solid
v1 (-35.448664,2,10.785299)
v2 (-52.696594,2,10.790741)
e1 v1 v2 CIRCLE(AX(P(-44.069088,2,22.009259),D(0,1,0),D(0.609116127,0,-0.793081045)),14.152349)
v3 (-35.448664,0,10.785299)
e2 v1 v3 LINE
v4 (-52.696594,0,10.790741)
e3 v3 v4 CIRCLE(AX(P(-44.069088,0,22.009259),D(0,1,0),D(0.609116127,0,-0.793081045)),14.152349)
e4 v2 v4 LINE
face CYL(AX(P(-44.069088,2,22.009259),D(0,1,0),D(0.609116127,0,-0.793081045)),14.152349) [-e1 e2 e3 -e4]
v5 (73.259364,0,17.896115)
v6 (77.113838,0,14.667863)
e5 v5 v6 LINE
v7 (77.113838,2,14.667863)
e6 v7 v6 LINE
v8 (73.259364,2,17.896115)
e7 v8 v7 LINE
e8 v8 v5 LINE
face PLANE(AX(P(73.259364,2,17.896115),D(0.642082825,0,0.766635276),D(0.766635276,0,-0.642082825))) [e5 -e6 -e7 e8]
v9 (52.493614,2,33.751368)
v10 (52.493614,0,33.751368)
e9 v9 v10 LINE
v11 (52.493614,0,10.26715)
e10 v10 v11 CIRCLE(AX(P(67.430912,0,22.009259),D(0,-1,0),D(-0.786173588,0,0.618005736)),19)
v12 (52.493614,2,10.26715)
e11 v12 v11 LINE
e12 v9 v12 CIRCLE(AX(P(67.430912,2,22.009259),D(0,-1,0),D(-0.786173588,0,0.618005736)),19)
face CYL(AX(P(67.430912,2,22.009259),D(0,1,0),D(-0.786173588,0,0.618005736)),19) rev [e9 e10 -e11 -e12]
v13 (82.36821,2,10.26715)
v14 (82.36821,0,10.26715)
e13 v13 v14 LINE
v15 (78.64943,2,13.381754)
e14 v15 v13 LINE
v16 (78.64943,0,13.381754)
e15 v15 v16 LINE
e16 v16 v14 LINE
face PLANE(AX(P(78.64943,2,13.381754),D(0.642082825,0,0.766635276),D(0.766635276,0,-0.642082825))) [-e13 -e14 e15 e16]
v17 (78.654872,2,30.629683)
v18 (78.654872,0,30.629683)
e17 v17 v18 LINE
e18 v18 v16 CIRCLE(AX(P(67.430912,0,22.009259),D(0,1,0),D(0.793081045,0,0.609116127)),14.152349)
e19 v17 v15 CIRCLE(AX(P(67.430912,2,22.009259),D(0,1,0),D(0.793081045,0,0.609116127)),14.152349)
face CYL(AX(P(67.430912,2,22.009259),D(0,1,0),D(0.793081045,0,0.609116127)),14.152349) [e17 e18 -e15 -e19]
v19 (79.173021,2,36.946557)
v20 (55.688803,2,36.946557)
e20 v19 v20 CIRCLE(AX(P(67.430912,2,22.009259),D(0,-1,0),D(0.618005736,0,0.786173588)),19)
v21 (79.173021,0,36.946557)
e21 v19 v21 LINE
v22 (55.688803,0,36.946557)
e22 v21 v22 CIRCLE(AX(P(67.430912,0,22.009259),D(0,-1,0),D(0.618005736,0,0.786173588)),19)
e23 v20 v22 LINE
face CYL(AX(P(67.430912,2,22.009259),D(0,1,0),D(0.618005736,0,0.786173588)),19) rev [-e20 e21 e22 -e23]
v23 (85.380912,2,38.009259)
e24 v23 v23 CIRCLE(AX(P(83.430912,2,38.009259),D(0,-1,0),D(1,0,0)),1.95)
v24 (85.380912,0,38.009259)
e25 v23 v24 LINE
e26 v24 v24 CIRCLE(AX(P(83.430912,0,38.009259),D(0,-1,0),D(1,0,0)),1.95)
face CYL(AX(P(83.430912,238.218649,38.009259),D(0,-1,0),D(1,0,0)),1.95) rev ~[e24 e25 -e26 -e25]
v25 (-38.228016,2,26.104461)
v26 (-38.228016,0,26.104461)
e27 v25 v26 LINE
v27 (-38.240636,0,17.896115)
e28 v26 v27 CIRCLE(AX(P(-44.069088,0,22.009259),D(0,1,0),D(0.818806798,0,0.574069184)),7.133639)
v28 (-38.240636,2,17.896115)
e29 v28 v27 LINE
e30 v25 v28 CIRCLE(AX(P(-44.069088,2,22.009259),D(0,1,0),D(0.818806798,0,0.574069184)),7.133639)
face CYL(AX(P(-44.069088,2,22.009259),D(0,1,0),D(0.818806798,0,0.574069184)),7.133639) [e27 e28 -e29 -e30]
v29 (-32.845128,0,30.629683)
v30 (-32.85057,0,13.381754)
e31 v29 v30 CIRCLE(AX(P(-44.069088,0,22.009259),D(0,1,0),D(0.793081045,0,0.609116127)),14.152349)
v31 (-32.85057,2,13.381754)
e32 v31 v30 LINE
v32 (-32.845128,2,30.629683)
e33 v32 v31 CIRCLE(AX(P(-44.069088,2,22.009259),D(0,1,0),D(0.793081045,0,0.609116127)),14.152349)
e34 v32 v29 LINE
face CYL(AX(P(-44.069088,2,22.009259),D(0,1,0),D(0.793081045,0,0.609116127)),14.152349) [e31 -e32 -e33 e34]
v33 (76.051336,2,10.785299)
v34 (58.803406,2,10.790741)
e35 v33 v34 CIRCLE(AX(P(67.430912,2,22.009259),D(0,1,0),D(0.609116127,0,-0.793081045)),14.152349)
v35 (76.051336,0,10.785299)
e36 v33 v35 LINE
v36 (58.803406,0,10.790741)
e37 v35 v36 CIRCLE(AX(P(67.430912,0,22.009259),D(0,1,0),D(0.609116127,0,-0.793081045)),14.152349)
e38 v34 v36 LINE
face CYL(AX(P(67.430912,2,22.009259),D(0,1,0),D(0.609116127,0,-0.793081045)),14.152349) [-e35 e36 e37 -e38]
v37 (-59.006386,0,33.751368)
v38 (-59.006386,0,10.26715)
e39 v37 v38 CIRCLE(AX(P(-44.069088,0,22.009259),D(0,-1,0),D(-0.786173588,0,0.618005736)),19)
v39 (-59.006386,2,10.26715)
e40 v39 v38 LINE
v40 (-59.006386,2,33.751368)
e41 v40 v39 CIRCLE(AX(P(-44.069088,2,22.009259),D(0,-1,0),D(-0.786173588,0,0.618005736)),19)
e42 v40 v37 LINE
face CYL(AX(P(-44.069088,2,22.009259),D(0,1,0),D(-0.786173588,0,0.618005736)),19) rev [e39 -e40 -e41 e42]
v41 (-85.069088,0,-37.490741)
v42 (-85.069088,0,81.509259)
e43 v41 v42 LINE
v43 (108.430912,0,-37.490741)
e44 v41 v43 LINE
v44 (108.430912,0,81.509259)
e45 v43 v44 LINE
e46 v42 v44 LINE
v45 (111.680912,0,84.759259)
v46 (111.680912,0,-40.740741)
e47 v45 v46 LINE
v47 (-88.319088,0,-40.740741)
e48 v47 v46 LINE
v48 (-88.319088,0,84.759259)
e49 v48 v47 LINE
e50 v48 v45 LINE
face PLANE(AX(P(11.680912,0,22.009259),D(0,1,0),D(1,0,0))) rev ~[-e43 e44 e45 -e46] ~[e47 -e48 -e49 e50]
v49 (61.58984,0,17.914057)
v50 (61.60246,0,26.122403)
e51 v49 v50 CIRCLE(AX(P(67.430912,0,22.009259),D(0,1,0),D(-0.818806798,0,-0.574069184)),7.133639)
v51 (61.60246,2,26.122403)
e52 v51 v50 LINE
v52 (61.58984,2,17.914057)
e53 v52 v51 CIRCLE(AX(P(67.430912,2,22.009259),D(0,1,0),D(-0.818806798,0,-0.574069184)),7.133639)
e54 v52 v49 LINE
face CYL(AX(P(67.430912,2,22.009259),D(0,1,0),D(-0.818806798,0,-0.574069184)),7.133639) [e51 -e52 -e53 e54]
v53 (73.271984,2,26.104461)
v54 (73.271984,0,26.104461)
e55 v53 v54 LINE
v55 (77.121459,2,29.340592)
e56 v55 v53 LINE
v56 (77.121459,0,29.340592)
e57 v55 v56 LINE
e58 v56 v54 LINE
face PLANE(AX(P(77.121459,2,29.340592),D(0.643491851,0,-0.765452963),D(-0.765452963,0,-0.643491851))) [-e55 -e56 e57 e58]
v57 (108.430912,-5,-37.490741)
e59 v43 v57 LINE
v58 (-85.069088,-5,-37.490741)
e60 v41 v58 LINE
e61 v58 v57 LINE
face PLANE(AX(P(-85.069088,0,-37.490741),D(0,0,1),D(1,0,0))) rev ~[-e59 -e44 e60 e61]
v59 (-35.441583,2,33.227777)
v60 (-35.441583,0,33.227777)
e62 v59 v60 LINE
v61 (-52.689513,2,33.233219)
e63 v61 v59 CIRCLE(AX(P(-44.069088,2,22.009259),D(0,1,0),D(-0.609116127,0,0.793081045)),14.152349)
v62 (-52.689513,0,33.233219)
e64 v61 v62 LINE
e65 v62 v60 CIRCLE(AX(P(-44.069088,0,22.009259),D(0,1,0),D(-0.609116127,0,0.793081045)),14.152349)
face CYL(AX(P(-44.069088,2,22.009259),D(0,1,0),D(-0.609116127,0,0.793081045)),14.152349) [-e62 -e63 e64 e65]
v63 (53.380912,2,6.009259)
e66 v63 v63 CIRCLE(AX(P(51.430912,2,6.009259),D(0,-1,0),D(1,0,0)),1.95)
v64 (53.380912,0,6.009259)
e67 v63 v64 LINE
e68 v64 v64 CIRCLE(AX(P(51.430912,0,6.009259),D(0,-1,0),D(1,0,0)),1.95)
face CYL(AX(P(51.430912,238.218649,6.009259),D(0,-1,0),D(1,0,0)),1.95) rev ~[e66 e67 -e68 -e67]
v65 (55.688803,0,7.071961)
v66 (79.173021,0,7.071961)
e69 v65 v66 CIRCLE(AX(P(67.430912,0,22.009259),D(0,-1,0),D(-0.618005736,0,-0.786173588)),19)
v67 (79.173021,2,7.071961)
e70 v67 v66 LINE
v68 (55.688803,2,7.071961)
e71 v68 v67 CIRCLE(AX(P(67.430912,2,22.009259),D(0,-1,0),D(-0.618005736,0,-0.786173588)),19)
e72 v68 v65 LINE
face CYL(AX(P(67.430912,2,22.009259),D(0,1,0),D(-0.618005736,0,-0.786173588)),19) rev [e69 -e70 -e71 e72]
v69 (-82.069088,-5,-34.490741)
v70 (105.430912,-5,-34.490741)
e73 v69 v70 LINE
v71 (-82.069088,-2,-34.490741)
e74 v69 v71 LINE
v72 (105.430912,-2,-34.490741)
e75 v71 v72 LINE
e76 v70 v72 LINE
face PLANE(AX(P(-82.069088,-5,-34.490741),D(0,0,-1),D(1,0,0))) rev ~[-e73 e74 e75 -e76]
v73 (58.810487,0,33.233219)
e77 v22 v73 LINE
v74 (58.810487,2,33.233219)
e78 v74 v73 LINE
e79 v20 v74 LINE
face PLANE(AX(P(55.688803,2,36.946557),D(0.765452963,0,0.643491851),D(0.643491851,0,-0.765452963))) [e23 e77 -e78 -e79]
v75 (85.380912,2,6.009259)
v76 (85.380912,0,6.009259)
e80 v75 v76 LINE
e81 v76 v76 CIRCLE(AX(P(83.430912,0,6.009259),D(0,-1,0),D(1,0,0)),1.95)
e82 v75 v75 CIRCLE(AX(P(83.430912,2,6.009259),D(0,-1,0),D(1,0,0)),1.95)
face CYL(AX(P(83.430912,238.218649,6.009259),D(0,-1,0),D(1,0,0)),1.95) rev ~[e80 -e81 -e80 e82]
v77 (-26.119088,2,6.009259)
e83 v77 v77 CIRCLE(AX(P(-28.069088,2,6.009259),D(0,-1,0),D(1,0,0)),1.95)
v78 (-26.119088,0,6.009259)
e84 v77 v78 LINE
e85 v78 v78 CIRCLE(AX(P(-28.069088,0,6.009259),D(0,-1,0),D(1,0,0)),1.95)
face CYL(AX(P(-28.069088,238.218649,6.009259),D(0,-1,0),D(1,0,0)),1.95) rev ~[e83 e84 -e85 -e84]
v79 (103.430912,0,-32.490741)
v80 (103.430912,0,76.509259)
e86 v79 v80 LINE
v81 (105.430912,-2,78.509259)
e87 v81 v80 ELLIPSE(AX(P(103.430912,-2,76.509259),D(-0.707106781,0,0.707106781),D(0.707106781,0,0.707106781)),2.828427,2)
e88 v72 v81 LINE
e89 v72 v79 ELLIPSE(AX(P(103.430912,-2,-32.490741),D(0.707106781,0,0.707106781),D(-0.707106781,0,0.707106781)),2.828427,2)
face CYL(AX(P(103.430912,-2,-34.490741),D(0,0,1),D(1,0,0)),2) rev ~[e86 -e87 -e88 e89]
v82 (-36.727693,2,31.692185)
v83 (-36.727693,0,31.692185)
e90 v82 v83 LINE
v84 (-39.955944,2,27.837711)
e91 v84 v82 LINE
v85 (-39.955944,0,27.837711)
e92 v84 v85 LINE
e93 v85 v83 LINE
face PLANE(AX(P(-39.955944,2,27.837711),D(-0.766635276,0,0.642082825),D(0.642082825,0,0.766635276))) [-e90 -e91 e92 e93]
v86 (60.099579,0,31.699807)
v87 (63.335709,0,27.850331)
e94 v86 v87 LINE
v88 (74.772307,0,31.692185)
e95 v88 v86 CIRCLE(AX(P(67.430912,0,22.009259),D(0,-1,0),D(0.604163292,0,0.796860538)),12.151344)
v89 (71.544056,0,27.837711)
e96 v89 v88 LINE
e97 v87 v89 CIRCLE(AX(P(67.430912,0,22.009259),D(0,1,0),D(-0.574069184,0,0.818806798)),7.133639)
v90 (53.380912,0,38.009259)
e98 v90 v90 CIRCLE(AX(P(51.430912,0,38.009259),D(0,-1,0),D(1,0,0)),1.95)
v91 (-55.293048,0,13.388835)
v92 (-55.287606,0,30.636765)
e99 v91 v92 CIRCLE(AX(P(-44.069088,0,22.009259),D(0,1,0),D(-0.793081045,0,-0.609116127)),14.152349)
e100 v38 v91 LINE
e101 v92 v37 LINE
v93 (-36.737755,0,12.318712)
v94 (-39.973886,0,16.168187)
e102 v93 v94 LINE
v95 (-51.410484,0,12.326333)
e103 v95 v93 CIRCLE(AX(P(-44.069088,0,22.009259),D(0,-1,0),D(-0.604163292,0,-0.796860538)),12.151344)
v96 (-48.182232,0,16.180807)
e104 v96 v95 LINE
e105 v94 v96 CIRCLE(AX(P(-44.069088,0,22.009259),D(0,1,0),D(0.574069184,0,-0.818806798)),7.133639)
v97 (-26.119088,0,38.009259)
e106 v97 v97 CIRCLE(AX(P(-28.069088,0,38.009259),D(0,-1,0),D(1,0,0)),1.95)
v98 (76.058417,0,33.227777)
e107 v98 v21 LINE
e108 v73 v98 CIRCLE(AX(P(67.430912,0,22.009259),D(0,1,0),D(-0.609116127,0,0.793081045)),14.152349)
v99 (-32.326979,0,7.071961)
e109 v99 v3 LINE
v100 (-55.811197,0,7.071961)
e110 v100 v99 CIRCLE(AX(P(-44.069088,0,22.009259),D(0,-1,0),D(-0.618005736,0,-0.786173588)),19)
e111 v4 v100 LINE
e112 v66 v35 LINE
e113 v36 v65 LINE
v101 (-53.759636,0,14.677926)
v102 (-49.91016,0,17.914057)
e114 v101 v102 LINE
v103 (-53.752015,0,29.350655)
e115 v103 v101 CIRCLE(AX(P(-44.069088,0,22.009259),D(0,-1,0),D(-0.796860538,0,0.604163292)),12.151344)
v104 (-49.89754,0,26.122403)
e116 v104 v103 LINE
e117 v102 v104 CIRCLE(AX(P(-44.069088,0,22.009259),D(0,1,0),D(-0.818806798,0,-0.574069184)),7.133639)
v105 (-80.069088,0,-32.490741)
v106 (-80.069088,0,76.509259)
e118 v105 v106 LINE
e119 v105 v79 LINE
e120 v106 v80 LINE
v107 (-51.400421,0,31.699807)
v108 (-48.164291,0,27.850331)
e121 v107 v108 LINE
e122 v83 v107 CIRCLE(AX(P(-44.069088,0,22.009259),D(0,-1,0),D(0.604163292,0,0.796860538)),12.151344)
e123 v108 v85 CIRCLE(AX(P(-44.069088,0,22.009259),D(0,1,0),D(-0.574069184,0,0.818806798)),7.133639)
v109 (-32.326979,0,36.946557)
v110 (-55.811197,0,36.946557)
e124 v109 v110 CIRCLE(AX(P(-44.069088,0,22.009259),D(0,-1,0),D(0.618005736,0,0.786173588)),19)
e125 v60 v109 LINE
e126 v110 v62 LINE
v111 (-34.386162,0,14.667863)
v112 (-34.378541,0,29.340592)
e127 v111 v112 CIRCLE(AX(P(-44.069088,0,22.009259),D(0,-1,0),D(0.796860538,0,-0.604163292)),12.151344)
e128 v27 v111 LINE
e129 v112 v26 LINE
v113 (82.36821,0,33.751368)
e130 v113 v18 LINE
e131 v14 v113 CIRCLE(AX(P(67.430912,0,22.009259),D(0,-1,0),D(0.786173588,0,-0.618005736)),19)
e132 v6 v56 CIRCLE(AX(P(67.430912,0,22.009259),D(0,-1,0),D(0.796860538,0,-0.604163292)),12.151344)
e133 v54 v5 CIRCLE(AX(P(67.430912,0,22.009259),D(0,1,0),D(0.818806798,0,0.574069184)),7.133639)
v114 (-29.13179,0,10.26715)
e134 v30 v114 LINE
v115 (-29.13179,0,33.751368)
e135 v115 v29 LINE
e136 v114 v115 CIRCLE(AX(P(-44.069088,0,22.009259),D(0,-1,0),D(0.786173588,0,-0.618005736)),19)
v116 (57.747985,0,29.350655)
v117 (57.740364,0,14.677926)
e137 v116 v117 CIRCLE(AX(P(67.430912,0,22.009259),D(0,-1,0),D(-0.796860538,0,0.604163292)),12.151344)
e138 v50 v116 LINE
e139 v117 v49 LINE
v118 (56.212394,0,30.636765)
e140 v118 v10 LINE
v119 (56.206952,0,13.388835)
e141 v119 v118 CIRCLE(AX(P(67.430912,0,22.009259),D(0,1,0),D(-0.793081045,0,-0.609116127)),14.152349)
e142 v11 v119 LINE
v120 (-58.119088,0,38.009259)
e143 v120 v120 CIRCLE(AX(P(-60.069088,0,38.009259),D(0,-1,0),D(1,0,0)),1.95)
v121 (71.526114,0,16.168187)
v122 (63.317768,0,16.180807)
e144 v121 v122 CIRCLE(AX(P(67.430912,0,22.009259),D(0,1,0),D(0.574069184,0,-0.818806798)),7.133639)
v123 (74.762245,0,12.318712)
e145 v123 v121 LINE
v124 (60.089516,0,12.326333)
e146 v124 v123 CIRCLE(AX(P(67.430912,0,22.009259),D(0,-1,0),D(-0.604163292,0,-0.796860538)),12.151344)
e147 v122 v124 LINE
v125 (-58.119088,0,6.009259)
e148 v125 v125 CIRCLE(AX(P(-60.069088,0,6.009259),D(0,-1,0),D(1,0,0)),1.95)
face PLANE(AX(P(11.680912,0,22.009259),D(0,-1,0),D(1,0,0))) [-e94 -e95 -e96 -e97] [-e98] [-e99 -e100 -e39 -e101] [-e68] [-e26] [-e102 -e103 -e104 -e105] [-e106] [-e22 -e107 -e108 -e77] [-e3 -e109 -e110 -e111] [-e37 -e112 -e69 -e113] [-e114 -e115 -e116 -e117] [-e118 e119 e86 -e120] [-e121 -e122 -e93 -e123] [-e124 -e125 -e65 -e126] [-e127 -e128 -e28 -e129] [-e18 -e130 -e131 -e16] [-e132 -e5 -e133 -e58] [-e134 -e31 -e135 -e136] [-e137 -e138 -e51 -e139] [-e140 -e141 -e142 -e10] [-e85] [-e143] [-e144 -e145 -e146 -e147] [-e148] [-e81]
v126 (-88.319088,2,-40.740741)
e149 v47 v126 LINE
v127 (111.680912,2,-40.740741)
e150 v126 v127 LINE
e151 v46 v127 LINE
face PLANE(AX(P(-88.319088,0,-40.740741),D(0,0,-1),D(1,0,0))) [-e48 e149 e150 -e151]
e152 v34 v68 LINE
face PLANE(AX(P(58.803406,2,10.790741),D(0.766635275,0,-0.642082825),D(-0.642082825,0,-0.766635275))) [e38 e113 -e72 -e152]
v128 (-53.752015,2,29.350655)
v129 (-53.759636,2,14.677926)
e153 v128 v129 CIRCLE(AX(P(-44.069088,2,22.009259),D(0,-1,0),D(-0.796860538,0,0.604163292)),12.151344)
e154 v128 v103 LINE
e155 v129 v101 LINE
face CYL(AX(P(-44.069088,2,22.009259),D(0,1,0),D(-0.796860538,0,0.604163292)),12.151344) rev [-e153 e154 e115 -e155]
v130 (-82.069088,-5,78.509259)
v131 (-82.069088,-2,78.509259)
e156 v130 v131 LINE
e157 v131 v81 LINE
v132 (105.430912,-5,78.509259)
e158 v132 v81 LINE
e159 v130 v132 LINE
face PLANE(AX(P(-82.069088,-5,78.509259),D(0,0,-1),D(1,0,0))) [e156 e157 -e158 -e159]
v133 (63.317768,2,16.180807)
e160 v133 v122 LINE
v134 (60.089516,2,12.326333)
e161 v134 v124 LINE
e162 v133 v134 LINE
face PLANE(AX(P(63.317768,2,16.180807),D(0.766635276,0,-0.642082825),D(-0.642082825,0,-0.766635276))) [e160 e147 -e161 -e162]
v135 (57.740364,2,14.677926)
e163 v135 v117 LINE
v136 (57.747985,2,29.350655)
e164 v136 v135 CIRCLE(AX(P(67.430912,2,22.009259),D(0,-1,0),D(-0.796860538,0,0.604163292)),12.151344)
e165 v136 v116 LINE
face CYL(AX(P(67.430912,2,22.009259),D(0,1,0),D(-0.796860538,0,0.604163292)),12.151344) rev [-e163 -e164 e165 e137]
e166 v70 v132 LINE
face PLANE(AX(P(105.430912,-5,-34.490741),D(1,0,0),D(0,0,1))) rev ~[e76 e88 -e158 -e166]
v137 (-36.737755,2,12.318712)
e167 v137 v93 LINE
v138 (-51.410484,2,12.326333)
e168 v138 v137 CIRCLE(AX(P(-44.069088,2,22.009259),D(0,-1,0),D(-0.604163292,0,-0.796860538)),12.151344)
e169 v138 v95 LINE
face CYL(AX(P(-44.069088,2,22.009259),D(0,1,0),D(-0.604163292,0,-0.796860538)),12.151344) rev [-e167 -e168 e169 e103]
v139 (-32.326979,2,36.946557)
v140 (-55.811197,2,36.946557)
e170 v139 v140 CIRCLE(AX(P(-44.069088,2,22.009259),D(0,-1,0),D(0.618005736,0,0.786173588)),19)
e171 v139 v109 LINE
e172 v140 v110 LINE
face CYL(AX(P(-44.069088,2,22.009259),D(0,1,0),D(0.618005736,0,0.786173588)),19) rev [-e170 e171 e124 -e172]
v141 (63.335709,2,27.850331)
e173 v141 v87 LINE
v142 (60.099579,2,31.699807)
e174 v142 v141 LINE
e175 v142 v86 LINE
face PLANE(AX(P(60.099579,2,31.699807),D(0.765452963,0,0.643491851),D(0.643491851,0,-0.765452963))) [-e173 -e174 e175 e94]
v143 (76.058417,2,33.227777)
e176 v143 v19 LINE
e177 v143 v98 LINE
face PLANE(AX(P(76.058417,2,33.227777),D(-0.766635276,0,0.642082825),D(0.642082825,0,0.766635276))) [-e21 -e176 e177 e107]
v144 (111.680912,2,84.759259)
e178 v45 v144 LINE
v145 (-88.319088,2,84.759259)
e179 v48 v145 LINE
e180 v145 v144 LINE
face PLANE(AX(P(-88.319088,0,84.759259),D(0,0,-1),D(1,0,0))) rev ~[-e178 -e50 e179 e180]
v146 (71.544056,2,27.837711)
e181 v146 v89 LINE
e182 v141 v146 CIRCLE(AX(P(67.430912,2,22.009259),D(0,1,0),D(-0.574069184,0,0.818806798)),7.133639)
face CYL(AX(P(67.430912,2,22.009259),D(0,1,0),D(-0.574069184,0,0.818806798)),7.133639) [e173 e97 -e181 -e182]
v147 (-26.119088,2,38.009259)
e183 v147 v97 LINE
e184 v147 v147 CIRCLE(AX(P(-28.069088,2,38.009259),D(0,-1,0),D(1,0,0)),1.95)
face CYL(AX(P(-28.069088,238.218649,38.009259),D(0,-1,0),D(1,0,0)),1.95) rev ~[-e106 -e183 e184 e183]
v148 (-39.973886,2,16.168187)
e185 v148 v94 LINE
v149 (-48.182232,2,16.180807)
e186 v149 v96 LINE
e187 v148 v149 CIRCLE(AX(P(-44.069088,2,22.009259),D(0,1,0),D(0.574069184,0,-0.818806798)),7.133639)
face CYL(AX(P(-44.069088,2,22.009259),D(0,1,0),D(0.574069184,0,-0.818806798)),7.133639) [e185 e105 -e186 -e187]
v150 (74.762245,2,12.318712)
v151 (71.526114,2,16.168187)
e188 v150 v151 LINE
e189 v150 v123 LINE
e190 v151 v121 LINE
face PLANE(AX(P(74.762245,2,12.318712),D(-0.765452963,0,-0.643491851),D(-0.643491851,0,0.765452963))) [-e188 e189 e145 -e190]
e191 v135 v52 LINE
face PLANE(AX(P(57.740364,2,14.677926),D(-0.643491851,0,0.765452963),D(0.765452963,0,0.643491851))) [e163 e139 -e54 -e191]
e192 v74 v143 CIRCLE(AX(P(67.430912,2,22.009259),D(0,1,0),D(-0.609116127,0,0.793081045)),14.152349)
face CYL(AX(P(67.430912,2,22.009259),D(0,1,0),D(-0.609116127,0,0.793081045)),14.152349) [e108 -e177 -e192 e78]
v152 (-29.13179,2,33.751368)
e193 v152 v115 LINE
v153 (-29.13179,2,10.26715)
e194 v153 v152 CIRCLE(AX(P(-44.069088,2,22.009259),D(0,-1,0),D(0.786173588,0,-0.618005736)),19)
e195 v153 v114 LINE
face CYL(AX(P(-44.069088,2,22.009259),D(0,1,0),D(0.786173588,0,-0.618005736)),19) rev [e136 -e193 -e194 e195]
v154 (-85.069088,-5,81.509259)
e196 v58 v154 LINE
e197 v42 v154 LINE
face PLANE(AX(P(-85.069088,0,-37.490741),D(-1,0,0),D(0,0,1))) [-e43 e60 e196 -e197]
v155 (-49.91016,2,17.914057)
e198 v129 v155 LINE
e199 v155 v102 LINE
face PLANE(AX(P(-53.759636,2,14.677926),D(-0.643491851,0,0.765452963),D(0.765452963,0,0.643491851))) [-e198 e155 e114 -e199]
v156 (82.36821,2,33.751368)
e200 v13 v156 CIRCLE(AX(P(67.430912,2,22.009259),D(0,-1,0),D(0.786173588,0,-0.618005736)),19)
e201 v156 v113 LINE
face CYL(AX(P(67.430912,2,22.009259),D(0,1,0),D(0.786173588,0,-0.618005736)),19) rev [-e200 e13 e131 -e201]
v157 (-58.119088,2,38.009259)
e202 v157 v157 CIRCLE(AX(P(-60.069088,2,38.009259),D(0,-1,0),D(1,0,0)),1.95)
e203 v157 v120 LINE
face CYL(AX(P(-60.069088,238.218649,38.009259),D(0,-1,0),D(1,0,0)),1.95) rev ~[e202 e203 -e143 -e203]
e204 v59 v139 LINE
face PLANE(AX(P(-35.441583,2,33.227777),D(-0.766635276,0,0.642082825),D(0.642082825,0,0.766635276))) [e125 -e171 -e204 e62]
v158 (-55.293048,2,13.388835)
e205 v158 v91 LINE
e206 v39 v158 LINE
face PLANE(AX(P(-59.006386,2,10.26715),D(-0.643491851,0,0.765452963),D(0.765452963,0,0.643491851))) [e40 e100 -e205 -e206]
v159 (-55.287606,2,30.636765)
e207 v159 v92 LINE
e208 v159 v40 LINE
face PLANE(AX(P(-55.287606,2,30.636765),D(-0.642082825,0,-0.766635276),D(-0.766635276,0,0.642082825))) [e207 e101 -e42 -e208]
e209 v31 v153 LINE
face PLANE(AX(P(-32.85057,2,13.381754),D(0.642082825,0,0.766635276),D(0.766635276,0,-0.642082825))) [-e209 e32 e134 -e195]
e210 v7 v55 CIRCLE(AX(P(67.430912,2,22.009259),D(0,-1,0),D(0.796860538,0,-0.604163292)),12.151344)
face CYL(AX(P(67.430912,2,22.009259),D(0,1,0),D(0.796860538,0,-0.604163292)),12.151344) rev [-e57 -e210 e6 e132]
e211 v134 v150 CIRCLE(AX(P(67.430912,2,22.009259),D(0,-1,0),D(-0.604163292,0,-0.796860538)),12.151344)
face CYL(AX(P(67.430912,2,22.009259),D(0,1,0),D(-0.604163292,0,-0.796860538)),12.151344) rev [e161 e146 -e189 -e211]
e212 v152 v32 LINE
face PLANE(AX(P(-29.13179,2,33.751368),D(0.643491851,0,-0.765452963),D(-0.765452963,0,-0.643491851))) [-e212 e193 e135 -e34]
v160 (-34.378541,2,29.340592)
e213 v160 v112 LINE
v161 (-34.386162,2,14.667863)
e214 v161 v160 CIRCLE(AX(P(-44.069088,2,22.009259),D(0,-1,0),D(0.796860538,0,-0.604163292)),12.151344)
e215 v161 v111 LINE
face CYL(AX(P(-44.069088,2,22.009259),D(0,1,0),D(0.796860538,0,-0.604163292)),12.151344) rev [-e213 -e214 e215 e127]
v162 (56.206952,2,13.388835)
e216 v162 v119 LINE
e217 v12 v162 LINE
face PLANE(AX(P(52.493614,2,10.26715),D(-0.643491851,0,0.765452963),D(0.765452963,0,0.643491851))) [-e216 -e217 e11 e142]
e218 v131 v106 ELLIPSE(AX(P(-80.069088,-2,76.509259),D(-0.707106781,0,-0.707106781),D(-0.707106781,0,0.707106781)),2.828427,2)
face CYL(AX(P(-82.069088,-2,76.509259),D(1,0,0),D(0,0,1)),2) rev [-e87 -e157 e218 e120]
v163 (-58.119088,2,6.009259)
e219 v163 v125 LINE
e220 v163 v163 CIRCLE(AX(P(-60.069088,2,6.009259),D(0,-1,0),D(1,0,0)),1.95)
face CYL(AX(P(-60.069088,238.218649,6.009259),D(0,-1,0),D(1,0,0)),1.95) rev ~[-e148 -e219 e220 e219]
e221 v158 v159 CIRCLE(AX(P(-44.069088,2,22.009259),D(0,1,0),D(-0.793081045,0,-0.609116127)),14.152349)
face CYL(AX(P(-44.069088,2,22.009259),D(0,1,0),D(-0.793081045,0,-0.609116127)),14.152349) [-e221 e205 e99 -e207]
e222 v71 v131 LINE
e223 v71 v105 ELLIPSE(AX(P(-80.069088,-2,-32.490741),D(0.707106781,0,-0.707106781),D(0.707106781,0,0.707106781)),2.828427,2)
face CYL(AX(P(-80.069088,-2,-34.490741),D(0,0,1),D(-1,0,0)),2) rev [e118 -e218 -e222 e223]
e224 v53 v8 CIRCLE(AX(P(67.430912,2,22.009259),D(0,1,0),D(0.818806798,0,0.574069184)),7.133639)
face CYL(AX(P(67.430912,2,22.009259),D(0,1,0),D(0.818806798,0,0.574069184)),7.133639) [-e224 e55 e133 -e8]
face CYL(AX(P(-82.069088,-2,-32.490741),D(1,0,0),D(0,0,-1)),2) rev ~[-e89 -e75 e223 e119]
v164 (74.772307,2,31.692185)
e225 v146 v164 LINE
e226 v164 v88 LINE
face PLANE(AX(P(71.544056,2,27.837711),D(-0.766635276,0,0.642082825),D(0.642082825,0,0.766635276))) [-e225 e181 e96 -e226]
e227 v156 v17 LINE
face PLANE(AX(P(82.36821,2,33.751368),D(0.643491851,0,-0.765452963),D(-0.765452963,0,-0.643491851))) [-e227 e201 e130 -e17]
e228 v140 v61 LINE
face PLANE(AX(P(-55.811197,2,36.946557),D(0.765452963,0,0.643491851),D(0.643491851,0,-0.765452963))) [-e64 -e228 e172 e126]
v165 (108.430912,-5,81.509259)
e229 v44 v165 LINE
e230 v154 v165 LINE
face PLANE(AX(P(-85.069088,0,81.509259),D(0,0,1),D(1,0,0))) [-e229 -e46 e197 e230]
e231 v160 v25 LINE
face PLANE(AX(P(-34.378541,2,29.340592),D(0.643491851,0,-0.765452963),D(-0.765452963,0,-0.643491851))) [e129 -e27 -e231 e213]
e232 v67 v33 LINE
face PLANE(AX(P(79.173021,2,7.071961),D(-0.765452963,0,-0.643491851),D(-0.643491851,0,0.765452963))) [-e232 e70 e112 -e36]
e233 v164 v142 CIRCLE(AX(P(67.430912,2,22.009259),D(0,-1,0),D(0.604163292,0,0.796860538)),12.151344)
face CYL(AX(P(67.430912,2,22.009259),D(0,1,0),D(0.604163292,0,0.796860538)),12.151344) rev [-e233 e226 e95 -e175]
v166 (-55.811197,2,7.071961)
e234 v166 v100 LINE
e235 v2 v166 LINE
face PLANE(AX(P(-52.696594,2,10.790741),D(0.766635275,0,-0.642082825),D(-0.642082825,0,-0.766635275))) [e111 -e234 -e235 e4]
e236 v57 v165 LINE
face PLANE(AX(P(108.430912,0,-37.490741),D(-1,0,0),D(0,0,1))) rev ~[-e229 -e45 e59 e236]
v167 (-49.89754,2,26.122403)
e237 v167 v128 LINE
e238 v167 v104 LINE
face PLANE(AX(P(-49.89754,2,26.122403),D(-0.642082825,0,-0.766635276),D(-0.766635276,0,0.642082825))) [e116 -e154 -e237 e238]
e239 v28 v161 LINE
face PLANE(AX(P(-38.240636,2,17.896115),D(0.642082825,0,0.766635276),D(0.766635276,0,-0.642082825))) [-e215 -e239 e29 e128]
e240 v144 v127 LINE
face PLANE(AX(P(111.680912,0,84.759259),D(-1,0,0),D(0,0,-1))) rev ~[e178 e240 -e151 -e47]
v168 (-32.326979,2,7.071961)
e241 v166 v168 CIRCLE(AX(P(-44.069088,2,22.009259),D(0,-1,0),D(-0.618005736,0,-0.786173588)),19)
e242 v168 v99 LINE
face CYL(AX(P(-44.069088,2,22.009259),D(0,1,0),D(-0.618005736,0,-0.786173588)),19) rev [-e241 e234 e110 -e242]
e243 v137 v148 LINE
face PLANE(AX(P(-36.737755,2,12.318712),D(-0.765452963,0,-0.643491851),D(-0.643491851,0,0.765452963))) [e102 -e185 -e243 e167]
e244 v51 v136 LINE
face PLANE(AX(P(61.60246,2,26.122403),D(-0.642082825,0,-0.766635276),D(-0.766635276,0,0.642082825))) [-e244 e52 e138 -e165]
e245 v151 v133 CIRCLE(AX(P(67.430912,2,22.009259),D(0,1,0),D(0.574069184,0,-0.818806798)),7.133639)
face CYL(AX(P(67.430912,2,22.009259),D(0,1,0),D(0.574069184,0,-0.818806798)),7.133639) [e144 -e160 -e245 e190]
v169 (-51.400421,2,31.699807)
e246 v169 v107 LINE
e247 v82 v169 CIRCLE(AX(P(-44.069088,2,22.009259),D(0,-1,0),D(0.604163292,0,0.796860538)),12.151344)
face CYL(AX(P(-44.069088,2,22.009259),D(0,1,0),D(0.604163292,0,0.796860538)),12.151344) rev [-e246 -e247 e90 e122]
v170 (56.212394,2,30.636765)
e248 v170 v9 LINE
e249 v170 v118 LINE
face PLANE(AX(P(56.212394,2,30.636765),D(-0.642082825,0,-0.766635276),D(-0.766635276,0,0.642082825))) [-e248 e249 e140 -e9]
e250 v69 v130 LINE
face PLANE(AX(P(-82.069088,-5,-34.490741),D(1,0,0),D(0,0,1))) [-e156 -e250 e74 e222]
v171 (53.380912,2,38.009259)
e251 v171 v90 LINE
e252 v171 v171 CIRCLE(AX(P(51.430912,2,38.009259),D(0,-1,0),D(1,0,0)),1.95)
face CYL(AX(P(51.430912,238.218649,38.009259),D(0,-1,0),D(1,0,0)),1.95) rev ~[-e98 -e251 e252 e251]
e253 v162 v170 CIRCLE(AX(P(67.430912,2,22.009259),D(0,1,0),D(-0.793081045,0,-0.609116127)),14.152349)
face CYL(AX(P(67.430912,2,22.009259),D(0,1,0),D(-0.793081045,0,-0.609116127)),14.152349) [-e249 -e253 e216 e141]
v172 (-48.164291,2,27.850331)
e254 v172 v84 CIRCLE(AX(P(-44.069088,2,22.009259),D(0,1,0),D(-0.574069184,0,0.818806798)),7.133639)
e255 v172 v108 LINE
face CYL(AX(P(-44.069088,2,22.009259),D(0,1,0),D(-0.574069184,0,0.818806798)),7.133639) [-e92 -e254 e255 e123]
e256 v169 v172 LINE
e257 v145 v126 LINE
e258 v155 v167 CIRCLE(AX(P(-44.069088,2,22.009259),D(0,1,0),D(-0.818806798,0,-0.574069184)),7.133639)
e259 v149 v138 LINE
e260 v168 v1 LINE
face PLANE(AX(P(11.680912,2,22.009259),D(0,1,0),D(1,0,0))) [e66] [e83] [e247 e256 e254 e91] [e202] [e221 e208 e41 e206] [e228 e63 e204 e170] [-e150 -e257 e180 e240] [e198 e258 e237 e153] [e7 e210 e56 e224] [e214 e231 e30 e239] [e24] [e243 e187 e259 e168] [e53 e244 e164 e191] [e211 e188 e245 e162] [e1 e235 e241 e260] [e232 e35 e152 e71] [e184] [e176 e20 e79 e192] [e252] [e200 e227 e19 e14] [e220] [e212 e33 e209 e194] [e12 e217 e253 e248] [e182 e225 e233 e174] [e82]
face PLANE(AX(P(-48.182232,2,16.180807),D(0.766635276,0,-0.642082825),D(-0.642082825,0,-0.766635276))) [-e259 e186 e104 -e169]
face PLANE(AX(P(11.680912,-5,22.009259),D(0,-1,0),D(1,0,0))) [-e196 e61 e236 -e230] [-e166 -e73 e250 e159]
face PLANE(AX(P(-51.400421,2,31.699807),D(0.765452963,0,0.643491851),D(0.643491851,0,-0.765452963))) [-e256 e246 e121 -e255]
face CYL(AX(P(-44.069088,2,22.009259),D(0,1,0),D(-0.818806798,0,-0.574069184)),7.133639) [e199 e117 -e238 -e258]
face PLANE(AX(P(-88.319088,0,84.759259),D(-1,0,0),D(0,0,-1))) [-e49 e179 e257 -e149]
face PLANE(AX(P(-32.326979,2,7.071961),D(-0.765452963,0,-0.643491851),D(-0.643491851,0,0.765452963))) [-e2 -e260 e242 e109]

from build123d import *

# Parameters (mm, degrees)
SKETCH1_W              = 200
SKETCH1_H              = 125.5
BOSS_EXTRUDE1_DEPTH    = 2
SKETCH2_W              = 193.5
SKETCH2_H              = 119
BOSS_EXTRUDE2_DEPTH    = 5
SKETCH3_W              = 187.5
SKETCH3_H              = 113
CUT_EXTRUDE1_DEPTH     = 5
FILLET1_R              = 2
M3_5_CLEARANCE_HOLE1_D = 3.9
CUT_EXTRUDE3_DEPTH     = 2
LPATTERN1_COUNT        = 2
LPATTERN1_PITCH        = 111.5


with BuildPart() as part:
    # Sketch1 → Boss-Extrude1 (new body)
    with BuildSketch(Plane(origin=(0, 0, 0), x_dir=(1, 0, 0), z_dir=(0, 1, 0))):
        with Locations((11.680911681, -22.009259259)):
            Rectangle(SKETCH1_W, SKETCH1_H)
    extrude(amount=BOSS_EXTRUDE1_DEPTH)

    # Sketch2 → Boss-Extrude2 (add)
    with BuildSketch(Plane.XZ):
        with Locations((11.680911681, 22.009259259)):
            Rectangle(SKETCH2_W, SKETCH2_H)
    extrude(amount=BOSS_EXTRUDE2_DEPTH)

    # Sketch3 → Cut-Extrude1 (cut)
    with BuildSketch(Plane.XZ.offset(5)):
        with Locations((11.680911681, 22.009259259)):
            Rectangle(SKETCH3_W, SKETCH3_H)
    extrude(amount=-CUT_EXTRUDE1_DEPTH, mode=Mode.SUBTRACT)

    # Fillet1
    fillet1_edges = [part.edges().sort_by_distance(p)[0] for p in [
        (105.430911681, 0, 22.009259259),
        (11.680911681, 0, -34.490740741),
        (-82.069088319, 0, 22.009259259),
        (11.680911681, 0, 78.509259259),
    ]]
    fillet(fillet1_edges, radius=FILLET1_R)

    # M3.5 Clearance Hole1 (through all)
    with Locations(Plane(origin=(0, 2, 0), x_dir=(-1, 0, 0), z_dir=(0, 1, 0))):
        with Locations((60.069088319, 38.009259259), (28.069088319, 38.009259259), (28.069088319, 6.009259259), (60.069088319, 6.009259259), (-51.430911681, 38.009259259), (-51.430911681, 6.009259259), (-83.430911681, 6.009259259), (-83.430911681, 38.009259259)):
            Hole(M3_5_CLEARANCE_HOLE1_D / 2)

    # Sketch9 → Cut-Extrude3 (cut)
    with BuildSketch(Plane(origin=(0, 2, 0), x_dir=(1, 0, 0), z_dir=(0, 1, 0))):
        with BuildLine():
            Line((-59.006386494, -10.267150282), (-55.293048336, -13.388835035))
            ThreePointArc((-55.293048336, -13.388835035), (-58.221436969, -22.013724686), (-55.287606174, -30.636764657))
            Line((-55.287606174, -30.636764657), (-59.006386494, -33.751368237))
            ThreePointArc((-59.006386494, -33.751368237), (-63.069088319, -22.009259259), (-59.006386494, -10.267150282))
        make_face()
        with BuildLine():
            Line((-53.75963561, -14.677926123), (-49.910160311, -17.914057022))
            ThreePointArc((-49.910160311, -17.914057022), (-51.202718747, -22.020227048), (-49.897540172, -26.122403114))
            Line((-49.897540172, -26.122403114), (-53.752014553, -29.350655033))
            ThreePointArc((-53.752014553, -29.350655033), (-56.220430324, -22.015570701), (-53.75963561, -14.677926123))
        make_face()
        with BuildLine():
            Line((-52.696593717, -10.790741404), (-55.811197297, -7.071961085))
            ThreePointArc((-55.811197297, -7.071961085), (-44.069088319, -3.009259259), (-32.326979341, -7.071961085))
            Line((-32.326979341, -7.071961085), (-35.448664095, -10.785299243))
            ThreePointArc((-35.448664095, -10.785299243), (-44.073553746, -7.856910609), (-52.696593717, -10.790741404))
        make_face()
        with BuildLine():
            Line((-48.182232174, -16.180807406), (-51.410484093, -12.326333025))
            ThreePointArc((-51.410484093, -12.326333025), (-44.075399761, -9.857917254), (-36.737755183, -12.318711968))
            Line((-36.737755183, -12.318711968), (-39.973886082, -16.168187268))
            ThreePointArc((-39.973886082, -16.168187268), (-44.080056108, -14.875628831), (-48.182232174, -16.180807406))
        make_face()
        with BuildLine():
            Line((-32.850570464, -13.381753861), (-29.131790144, -10.267150282))
            ThreePointArc((-29.131790144, -10.267150282), (-25.069088319, -22.009259259), (-29.131790144, -33.751368237))
            Line((-29.131790144, -33.751368237), (-32.845128303, -30.629683483))
            ThreePointArc((-32.845128303, -30.629683483), (-29.916739669, -22.004793832), (-32.850570464, -13.381753861))
        make_face()
        with BuildLine():
            Line((-38.240636466, -17.896115404), (-34.386162085, -14.667863485))
            ThreePointArc((-34.386162085, -14.667863485), (-31.917746314, -22.002947817), (-34.378541028, -29.340592396))
            Line((-34.378541028, -29.340592396), (-38.228016328, -26.104461496))
            ThreePointArc((-38.228016328, -26.104461496), (-36.935457891, -21.998291471), (-38.240636466, -17.896115404))
        make_face()
        with BuildLine():
            Line((-35.441582921, -33.227777114), (-32.326979341, -36.946557434))
            ThreePointArc((-32.326979341, -36.946557434), (-44.069088319, -41.009259259), (-55.811197297, -36.946557434))
            Line((-55.811197297, -36.946557434), (-52.689512543, -33.233219276))
            ThreePointArc((-52.689512543, -33.233219276), (-44.064622892, -36.161607909), (-35.441582921, -33.227777114))
        make_face()
        with BuildLine():
            Line((-39.955944464, -27.837711112), (-36.727692545, -31.692185493))
            ThreePointArc((-36.727692545, -31.692185493), (-44.062776877, -34.160601264), (-51.400421455, -31.69980655))
            Line((-51.400421455, -31.69980655), (-48.164290556, -27.850331251))
            ThreePointArc((-48.164290556, -27.850331251), (-44.058120531, -29.142889687), (-39.955944464, -27.837711112))
        make_face()
    cut_extrude3 = extrude(amount=-CUT_EXTRUDE3_DEPTH, mode=Mode.SUBTRACT)

    # LPattern1: Cut-Extrude3 ×2
    with Locations(*[(i * LPATTERN1_PITCH, 0, 0) for i in range(1, LPATTERN1_COUNT)]):
        add(cut_extrude3, mode=Mode.SUBTRACT)


solid = part.part
